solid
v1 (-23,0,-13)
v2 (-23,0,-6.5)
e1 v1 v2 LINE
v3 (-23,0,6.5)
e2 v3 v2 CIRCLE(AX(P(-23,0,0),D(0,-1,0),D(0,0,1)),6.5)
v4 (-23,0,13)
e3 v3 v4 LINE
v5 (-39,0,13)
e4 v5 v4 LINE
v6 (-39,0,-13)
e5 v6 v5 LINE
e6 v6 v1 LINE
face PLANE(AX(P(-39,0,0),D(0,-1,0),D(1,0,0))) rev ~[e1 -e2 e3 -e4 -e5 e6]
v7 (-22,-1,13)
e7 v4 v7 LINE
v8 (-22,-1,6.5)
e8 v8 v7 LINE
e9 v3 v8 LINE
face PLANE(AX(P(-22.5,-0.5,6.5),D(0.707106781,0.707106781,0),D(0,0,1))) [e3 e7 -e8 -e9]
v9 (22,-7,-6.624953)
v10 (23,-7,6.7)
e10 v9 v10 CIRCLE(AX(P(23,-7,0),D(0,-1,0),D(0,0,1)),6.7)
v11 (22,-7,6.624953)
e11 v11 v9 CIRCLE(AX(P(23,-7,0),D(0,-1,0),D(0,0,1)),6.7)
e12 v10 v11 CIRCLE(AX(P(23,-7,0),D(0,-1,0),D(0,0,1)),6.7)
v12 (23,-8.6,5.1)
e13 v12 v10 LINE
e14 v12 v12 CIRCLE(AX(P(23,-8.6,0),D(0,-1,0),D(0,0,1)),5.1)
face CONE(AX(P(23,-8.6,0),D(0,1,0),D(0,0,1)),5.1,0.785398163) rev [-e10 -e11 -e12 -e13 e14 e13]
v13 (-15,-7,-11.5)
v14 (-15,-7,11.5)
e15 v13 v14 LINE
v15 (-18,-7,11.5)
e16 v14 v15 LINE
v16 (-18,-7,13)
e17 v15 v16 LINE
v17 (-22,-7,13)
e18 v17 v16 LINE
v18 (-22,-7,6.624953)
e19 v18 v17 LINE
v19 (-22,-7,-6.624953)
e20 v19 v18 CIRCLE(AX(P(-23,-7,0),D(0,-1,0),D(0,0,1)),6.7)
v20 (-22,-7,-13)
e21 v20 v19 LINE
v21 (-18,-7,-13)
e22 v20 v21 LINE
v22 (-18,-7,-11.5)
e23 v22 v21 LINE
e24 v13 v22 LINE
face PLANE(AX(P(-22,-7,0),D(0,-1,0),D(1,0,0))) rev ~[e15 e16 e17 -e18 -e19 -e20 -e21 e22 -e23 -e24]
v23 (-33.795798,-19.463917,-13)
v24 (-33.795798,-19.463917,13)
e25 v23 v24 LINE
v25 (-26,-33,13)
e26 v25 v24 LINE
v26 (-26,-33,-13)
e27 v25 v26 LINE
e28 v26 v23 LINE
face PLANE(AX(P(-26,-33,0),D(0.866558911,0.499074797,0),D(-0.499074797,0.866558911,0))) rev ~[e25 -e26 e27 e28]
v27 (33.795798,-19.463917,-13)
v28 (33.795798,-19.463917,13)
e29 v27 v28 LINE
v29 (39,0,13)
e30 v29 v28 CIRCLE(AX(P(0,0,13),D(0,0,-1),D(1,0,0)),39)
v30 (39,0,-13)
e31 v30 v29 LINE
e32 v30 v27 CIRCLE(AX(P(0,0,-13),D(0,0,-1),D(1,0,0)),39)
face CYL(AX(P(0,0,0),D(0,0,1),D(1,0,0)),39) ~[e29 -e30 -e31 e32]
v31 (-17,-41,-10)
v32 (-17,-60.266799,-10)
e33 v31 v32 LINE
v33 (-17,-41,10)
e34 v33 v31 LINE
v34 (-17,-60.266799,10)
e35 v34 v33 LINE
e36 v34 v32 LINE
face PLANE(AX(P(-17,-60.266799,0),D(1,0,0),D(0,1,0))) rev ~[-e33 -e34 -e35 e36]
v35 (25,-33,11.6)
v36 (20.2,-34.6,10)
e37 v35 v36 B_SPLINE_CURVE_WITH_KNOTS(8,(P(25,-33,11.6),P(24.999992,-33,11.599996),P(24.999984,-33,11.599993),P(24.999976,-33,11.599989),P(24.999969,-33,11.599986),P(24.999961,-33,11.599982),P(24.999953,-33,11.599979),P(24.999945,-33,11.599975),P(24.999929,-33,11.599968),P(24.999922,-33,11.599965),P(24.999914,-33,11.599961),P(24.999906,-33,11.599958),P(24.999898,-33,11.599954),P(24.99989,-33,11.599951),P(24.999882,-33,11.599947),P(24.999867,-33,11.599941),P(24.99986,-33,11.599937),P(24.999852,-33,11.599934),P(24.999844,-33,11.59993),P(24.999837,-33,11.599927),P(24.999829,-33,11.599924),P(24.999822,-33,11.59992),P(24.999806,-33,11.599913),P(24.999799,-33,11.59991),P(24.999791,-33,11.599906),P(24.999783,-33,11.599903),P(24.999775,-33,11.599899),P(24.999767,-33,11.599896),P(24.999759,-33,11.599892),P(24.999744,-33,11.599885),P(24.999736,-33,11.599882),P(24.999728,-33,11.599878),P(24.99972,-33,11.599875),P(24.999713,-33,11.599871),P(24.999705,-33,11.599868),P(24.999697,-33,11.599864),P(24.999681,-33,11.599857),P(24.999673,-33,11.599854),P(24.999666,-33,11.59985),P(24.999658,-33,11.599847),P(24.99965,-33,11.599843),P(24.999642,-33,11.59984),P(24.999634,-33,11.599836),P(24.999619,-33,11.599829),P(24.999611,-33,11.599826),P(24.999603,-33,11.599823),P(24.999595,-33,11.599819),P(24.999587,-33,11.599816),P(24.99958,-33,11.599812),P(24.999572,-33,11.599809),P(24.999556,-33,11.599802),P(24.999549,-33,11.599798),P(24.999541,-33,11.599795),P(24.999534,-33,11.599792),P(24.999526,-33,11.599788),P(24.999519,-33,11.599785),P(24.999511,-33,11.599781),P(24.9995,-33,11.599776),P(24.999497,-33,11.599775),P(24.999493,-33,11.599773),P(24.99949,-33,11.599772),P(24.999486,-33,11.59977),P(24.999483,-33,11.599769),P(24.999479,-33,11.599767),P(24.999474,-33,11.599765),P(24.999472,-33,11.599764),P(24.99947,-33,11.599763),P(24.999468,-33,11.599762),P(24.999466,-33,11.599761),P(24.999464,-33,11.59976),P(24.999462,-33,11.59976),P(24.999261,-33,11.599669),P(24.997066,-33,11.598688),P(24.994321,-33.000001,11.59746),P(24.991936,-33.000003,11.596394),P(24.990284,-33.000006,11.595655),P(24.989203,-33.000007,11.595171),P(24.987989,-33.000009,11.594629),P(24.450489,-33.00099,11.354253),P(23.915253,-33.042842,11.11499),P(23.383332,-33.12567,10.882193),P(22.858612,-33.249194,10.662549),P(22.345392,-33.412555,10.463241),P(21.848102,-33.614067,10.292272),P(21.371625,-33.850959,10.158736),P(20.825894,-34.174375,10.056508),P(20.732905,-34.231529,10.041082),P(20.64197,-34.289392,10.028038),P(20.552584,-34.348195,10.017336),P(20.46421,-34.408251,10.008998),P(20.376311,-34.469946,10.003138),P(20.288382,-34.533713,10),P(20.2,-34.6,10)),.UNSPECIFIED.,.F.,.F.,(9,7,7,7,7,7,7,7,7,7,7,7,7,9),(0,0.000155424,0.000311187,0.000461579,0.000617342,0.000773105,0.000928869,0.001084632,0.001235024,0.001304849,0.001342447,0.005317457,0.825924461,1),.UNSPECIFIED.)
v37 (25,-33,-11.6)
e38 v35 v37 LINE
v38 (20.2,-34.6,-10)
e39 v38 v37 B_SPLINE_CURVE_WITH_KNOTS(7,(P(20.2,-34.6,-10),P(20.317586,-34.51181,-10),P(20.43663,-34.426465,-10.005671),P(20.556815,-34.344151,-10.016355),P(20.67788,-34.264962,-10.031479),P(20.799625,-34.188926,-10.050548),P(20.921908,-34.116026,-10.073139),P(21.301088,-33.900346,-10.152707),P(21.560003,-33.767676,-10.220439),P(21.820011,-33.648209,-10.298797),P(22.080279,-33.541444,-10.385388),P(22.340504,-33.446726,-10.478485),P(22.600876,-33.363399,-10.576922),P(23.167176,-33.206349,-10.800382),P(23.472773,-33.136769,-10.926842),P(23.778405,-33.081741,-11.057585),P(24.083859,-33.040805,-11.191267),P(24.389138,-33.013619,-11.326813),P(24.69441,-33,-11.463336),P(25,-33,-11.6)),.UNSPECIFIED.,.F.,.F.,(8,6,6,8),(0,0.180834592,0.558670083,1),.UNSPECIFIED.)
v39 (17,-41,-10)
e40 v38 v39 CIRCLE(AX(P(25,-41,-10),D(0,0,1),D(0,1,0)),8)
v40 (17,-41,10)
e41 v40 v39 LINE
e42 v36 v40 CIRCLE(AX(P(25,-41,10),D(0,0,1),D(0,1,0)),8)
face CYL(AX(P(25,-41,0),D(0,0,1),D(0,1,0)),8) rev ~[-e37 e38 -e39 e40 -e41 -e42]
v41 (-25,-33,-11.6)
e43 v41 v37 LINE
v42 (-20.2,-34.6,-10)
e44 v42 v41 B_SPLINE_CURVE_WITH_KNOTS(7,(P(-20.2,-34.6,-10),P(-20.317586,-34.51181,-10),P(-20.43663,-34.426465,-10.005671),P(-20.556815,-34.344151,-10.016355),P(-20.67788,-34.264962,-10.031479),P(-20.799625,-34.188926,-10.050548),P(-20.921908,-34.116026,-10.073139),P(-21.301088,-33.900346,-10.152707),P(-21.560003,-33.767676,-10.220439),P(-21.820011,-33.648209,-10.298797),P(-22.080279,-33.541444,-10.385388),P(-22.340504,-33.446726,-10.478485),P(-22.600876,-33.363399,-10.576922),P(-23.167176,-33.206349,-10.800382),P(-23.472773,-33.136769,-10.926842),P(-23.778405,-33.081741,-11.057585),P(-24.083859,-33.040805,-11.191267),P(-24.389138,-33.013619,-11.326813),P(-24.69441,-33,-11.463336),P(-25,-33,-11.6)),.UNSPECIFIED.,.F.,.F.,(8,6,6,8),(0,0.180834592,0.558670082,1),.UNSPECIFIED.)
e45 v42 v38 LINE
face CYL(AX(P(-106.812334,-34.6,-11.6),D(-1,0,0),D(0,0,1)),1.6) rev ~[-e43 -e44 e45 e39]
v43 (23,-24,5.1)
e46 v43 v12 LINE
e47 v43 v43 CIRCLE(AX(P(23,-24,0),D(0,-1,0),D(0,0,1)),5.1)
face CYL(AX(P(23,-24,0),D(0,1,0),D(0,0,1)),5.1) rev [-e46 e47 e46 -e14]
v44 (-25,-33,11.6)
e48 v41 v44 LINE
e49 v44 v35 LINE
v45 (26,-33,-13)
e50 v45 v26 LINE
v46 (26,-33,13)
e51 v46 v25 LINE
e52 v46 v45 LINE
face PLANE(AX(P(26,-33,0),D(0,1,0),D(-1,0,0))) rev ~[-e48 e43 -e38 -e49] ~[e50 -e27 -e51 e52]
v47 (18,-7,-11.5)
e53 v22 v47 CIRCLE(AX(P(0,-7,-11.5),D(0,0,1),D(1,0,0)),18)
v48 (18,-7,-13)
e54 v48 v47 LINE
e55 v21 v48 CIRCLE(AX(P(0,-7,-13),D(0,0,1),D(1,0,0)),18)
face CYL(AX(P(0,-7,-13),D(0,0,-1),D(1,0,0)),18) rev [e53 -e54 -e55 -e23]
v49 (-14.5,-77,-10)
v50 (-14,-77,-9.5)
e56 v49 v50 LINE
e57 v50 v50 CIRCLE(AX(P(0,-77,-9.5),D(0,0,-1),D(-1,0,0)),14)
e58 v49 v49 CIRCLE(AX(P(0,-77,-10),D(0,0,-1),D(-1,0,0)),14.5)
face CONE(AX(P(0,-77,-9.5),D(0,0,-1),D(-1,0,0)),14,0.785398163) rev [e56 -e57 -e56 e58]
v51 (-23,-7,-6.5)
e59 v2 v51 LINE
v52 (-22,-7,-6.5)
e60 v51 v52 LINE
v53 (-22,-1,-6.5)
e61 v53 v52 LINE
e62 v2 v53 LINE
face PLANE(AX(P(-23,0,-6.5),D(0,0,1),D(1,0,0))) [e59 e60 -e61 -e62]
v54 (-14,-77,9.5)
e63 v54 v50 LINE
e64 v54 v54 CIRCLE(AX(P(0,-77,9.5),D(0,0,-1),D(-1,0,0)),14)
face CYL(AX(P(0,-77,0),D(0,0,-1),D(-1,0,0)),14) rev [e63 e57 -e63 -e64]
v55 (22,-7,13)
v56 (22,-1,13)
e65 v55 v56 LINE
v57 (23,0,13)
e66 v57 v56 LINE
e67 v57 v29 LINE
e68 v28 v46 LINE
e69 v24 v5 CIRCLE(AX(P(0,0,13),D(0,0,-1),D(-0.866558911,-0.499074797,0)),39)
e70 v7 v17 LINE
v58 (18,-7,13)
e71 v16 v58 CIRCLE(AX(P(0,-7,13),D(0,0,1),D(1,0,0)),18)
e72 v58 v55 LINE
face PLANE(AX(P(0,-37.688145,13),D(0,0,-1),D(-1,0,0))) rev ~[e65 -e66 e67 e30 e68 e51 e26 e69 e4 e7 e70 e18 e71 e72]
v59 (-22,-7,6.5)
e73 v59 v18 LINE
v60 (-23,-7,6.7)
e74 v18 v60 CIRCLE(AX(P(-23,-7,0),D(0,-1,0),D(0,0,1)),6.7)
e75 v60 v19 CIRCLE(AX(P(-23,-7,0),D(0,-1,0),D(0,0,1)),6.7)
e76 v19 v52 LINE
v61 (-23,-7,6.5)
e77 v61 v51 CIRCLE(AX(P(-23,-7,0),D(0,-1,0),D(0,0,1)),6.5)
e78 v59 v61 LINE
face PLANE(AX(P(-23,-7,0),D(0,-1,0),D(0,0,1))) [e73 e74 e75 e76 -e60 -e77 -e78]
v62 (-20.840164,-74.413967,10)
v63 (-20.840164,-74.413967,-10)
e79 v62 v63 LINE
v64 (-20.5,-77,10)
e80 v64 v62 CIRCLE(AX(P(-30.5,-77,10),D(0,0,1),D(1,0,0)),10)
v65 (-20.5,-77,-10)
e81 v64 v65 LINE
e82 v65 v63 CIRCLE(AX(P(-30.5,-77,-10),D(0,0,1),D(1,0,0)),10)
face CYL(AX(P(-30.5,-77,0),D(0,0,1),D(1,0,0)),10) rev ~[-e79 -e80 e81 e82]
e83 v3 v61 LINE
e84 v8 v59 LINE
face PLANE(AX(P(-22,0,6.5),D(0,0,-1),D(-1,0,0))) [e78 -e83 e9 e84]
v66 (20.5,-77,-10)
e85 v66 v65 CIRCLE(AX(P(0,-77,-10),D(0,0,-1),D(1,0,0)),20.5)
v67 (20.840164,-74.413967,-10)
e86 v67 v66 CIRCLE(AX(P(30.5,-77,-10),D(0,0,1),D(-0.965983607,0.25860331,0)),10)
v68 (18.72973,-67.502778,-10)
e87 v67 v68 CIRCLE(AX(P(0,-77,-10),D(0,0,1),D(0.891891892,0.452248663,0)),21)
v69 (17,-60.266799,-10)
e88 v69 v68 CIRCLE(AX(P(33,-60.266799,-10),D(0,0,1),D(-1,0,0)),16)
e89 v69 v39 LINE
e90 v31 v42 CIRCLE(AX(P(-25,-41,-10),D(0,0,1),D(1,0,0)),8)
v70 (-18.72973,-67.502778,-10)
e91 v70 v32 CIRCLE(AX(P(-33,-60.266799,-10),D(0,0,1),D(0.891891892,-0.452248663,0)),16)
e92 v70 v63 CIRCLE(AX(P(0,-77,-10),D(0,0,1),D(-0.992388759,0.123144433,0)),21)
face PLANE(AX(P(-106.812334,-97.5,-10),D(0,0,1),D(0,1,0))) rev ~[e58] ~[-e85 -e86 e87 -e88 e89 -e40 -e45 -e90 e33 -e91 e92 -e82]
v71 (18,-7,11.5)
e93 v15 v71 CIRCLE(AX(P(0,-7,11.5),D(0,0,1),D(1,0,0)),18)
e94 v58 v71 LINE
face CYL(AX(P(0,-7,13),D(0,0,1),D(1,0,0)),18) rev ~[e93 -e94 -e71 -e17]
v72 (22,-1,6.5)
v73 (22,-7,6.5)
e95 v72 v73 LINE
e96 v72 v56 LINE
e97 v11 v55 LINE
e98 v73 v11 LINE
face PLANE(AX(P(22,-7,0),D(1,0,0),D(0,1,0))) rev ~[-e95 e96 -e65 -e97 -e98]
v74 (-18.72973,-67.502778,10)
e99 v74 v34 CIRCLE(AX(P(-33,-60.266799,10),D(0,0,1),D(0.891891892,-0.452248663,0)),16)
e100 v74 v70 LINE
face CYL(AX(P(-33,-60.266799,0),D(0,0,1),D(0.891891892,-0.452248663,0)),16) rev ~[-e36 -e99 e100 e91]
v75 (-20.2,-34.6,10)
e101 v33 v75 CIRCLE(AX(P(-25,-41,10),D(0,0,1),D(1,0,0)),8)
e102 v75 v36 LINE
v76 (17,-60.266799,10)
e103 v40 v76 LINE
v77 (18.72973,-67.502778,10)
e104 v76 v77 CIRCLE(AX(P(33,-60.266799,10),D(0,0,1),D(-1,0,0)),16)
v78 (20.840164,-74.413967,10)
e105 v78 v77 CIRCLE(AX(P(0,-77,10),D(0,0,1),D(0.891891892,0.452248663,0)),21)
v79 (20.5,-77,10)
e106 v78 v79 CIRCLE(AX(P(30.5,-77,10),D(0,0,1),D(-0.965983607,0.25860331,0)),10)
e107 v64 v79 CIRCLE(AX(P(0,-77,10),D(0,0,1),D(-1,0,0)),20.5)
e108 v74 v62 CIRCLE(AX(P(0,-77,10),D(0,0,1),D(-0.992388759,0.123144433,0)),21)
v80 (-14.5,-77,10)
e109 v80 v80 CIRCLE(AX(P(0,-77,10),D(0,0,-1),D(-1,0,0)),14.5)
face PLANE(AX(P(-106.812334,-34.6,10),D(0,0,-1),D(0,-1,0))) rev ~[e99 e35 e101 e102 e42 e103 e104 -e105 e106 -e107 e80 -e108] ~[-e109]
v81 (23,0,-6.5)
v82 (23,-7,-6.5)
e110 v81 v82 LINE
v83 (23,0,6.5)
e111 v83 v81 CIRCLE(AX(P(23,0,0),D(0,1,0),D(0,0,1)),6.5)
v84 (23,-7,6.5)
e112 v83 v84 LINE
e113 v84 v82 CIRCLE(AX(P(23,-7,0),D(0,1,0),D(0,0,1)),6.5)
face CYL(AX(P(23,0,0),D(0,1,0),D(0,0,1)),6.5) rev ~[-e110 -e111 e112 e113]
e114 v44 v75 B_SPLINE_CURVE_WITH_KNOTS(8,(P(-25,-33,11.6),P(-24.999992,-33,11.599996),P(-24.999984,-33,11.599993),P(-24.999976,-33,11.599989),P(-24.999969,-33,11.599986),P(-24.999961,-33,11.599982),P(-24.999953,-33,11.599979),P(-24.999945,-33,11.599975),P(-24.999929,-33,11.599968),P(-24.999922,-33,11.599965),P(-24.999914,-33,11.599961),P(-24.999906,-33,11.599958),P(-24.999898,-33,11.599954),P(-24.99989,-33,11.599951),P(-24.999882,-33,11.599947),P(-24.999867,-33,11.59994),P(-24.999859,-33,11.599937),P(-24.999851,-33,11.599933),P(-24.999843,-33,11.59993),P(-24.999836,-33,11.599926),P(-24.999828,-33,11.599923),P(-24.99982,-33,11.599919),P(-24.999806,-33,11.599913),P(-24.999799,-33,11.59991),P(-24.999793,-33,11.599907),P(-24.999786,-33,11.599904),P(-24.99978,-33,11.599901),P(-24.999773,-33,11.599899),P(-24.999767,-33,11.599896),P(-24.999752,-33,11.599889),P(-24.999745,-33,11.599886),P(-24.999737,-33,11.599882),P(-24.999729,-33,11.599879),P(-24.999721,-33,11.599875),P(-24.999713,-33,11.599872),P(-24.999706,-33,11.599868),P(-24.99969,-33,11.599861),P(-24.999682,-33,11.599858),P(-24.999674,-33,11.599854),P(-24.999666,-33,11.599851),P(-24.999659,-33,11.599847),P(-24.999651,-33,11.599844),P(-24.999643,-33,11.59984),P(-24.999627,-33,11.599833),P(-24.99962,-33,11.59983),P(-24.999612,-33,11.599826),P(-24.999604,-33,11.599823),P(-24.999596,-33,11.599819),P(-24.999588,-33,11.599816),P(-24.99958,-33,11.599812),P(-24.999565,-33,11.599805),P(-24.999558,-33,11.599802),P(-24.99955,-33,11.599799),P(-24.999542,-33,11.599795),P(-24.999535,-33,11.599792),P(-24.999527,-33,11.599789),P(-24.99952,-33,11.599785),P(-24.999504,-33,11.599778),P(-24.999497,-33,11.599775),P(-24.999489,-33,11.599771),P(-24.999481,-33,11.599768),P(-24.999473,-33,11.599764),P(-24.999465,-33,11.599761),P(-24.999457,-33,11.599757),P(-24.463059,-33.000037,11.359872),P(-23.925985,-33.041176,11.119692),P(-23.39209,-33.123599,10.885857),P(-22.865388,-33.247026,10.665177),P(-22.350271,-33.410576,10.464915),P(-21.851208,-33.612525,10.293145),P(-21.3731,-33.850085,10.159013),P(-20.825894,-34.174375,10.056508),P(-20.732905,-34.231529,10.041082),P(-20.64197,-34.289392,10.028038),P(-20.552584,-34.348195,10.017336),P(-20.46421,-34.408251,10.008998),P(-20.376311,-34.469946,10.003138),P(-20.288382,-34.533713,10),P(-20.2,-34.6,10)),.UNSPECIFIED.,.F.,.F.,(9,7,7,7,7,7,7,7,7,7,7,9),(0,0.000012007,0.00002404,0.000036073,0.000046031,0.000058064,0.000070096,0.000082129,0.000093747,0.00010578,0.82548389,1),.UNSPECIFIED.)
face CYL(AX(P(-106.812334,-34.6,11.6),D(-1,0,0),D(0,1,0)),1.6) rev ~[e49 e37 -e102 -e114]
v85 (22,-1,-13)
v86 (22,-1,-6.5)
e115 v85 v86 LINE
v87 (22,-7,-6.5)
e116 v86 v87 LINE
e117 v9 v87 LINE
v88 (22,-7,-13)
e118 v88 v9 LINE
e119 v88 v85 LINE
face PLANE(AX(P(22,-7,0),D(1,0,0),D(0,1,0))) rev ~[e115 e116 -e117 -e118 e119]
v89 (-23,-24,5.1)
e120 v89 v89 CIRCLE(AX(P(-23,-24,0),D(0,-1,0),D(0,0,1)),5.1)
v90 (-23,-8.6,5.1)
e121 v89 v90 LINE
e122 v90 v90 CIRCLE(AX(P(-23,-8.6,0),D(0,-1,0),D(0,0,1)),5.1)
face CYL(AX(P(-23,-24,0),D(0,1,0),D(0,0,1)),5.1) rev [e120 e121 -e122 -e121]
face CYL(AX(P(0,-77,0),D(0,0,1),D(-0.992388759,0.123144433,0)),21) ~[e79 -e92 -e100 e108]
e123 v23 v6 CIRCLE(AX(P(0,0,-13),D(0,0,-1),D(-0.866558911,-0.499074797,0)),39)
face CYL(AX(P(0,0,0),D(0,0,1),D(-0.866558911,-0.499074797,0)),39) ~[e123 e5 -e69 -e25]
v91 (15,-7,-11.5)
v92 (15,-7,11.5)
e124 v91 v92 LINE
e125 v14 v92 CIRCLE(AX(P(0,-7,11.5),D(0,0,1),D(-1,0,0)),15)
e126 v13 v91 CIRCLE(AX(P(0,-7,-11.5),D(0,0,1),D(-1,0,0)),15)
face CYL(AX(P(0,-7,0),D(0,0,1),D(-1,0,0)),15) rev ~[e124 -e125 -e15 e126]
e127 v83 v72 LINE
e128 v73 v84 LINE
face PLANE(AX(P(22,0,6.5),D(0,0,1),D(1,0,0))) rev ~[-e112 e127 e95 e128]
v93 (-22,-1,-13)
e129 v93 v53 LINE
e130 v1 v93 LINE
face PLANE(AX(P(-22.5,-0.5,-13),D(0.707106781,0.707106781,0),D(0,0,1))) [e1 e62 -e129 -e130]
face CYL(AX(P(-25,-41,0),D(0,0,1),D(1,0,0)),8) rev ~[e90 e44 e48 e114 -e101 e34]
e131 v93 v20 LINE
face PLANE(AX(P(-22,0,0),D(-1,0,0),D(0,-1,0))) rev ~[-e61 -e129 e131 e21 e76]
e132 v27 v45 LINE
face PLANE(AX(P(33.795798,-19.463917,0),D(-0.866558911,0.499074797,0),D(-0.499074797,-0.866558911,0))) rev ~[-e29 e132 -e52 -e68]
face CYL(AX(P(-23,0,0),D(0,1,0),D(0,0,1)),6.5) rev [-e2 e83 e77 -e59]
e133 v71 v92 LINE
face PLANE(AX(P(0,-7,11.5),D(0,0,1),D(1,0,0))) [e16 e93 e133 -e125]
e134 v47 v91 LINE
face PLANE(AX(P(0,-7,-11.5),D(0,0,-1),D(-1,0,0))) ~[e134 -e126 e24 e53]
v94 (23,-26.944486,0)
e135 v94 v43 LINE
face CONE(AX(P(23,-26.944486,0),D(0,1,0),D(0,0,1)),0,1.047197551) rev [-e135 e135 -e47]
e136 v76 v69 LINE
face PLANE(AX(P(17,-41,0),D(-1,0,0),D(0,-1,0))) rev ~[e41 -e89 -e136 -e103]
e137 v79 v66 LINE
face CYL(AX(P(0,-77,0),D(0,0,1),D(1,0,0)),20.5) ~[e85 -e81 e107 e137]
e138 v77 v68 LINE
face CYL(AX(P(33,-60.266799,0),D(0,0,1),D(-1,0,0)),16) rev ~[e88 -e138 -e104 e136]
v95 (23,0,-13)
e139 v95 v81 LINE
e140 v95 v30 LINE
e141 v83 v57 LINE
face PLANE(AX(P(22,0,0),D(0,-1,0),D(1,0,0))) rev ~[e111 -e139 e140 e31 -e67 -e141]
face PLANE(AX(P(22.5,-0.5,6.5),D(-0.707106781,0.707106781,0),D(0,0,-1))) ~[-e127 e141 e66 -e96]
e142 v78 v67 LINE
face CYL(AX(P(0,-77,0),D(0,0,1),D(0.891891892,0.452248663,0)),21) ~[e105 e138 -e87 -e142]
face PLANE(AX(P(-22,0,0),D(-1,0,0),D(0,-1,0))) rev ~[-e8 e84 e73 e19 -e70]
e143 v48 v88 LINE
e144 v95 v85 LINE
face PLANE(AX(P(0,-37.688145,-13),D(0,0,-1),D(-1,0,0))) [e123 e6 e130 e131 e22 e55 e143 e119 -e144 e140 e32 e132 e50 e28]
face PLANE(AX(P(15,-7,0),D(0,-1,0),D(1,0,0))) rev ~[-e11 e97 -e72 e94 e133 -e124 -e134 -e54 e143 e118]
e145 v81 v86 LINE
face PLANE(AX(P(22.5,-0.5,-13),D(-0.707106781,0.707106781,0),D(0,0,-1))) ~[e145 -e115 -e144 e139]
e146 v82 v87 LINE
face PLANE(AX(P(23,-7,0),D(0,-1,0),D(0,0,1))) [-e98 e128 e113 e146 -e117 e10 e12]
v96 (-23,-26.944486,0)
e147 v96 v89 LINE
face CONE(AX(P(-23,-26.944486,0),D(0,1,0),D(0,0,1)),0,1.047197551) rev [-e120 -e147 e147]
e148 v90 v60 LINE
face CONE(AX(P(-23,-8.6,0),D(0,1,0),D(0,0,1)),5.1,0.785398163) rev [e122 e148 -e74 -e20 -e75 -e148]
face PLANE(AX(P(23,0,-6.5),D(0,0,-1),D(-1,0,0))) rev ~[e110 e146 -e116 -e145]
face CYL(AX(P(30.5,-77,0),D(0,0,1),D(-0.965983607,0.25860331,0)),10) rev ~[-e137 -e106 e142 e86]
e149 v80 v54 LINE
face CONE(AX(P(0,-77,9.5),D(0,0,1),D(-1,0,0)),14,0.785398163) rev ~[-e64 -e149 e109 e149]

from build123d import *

# Parameters (mm, degrees)
SKETCH_1_R                  = 14
EXTRUDE_1_DEPTH             = 13
CUT_EXTRUDE_1_DEPTH         = 106.812333875
CUT_EXTRUDE_1_DEPTH_BACK    = 106.812333875
SKETCH_2_OUTSIDE_W          = 53.508
SKETCH_2_OUTSIDE_H          = 125.008
CUT_EXTRUDE_2_DEPTH         = 7
CHAMFER_1_SIZE              = 1
CHAMFER_2_SIZE              = 0.5
SKETCH_4_R                  = 18
CUT_EXTRUDE_3_DEPTH         = 1.5
HOLE_WIZARD_M121_AT_2_COUNT = 2
HOLE_WIZARD_M121_AT_2_PITCH = 46


with BuildPart() as part:
    # Эскиз1 → Бобышка-Вытянуть1 (new, symmetric)
    with BuildSketch(Plane.XY):
        with BuildLine():
            Line((33.795797544, -19.463917086), (26, -33))
            Line((26, -33), (25, -33))
            ThreePointArc((25, -33), (19.343145751, -35.343145751), (17, -41))
            Line((17, -41), (17, -60.266799469))
            ThreePointArc((17, -60.266799469), (17.438439597, -63.986723909), (18.72972973, -67.502778077))
            ThreePointArc((18.72972973, -67.502778077), (20.084453039, -70.866913818), (20.840163934, -74.413966902))
            ThreePointArc((20.840163934, -74.413966902), (20.58540569, -75.695845227), (20.5, -77))
            ThreePointArc((20.5, -77), (0, -97.5), (-20.5, -77))
            ThreePointArc((-20.5, -77), (-20.58540569, -75.695845227), (-20.840163934, -74.413966902))
            ThreePointArc((-20.840163934, -74.413966902), (-20.084453039, -70.866913818), (-18.72972973, -67.502778077))
            ThreePointArc((-18.72972973, -67.502778077), (-17.438439597, -63.986723909), (-17, -60.266799469))
            Line((-17, -60.266799469), (-17, -41))
            ThreePointArc((-17, -41), (-19.343145751, -35.343145751), (-25, -33))
            Line((-25, -33), (-26, -33))
            Line((-26, -33), (-33.795797544, -19.463917086))
            ThreePointArc((-33.795797544, -19.463917086), (-37.676492036, -10.073824889), (-39, 0))
            Line((-39, 0), (-22, 0))
            Line((-22, 0), (-22, -7))
            Line((-22, -7), (-15, -7))
            ThreePointArc((-15, -7), (0, -22), (15, -7))
            Line((15, -7), (22, -7))
            Line((22, -7), (22, 0))
            Line((22, 0), (39, 0))
            ThreePointArc((39, 0), (37.676492036, -10.073824889), (33.795797544, -19.463917086))
        make_face()
        with Locations(Location((0, -77, 0), (0, 0, 180))):
            Circle(SKETCH_1_R, mode=Mode.SUBTRACT)
    extrude(amount=EXTRUDE_1_DEPTH, both=True)

    # Эскиз2 outside → Вырез-Вытянуть1 (cut, two sides: drawn at the far end of the back side and taken through both)
    with BuildSketch(Plane(origin=(0, 0, 0), x_dir=(0, 0, -1), z_dir=(1, 0, 0)).offset(-CUT_EXTRUDE_1_DEPTH_BACK)):
        with Locations((0, -48.75)):
            Rectangle(SKETCH_2_OUTSIDE_W, SKETCH_2_OUTSIDE_H)
        with BuildLine():
            Line((13, 0), (-13, 0))
            Line((-13, 0), (-13, -33))
            Line((-13, -33), (-11.6, -33))
            ThreePointArc((-11.6, -33), (-10.46862915, -33.46862915), (-10, -34.6))
            Line((-10, -34.6), (-10, -97.5))
            Line((-10, -97.5), (10, -97.5))
            Line((10, -97.5), (10, -34.6))
            ThreePointArc((10, -34.6), (10.46862915, -33.46862915), (11.6, -33))
            Line((11.6, -33), (13, -33))
            Line((13, -33), (13, 0))
        make_face(mode=Mode.SUBTRACT)
    extrude(amount=CUT_EXTRUDE_1_DEPTH + CUT_EXTRUDE_1_DEPTH_BACK, mode=Mode.SUBTRACT)

    # Эскиз3 → Вырез-Вытянуть2 (cut)
    with BuildSketch(Plane(origin=(0, 0, 0), x_dir=(1, 0, 0), z_dir=(0, 1, 0))):
        with BuildLine():
            Line((23, 6.5), (22, 6.5))
            Line((22, 6.5), (22, -6.5))
            Line((22, -6.5), (23, -6.5))
            ThreePointArc((23, -6.5), (29.5, 0), (23, 6.5))
        make_face()
        with BuildLine():
            Line((-22, 6.5), (-22, -6.5))
            Line((-22, -6.5), (-23, -6.5))
            ThreePointArc((-23, -6.5), (-29.5, 0), (-23, 6.5))
            Line((-23, 6.5), (-22, 6.5))
        make_face()
    extrude(amount=-CUT_EXTRUDE_2_DEPTH, mode=Mode.SUBTRACT)

    # Фаска1
    chamfer_1_edges = [part.edges().sort_by_distance(p)[0] for p in [
        (22, 0, -9.75),
        (22, 0, 9.75),
        (-22, 0, 9.75),
        (-22, 0, -9.75),
    ]]
    chamfer(chamfer_1_edges, length=CHAMFER_1_SIZE)

    # Фаска2
    chamfer_2_edges = [part.edges().sort_by_distance(p)[0] for p in [
        (14, -77, -10),
        (14, -77, 10),
    ]]
    chamfer(chamfer_2_edges, length=CHAMFER_2_SIZE)

    # Эскиз4 → Вырез-Вытянуть3 (cut)
    with BuildSketch(Plane.XY.offset(13)):
        with Locations((0, -7)):
            Circle(SKETCH_4_R)
    cut_extrude_3 = extrude(amount=-CUT_EXTRUDE_3_DEPTH, mode=Mode.SUBTRACT)

    # Зеркальное отражение1: Вырез-Вытянуть3 across plane
    add(cut_extrude_3.mirror(Plane.XY), mode=Mode.SUBTRACT)

    # Эскиз6 → Отверстие обработанное метчиком M121 (revolve, cut)
    with BuildSketch(Plane(origin=(-23, -7, 0), x_dir=(0, 0, 1), z_dir=(1, 0, 0))):
        Polygon((0, 0), (0, 19.944486373), (5.1, 17), (5.1, 1.6), (6.7, 0), align=None)
    hole_wizard_m121 = revolve(axis=Axis((-23, -0.65, 0), (0, -1, 0)), mode=Mode.SUBTRACT)

    # Отверстие обработанное метчиком M121 at 2: Отверстие обработанное метчиком M121 ×2
    with Locations(*[(i * HOLE_WIZARD_M121_AT_2_PITCH, 0, 0) for i in range(1, HOLE_WIZARD_M121_AT_2_COUNT)]):
        add(hole_wizard_m121, mode=Mode.SUBTRACT)


solid = part.part
